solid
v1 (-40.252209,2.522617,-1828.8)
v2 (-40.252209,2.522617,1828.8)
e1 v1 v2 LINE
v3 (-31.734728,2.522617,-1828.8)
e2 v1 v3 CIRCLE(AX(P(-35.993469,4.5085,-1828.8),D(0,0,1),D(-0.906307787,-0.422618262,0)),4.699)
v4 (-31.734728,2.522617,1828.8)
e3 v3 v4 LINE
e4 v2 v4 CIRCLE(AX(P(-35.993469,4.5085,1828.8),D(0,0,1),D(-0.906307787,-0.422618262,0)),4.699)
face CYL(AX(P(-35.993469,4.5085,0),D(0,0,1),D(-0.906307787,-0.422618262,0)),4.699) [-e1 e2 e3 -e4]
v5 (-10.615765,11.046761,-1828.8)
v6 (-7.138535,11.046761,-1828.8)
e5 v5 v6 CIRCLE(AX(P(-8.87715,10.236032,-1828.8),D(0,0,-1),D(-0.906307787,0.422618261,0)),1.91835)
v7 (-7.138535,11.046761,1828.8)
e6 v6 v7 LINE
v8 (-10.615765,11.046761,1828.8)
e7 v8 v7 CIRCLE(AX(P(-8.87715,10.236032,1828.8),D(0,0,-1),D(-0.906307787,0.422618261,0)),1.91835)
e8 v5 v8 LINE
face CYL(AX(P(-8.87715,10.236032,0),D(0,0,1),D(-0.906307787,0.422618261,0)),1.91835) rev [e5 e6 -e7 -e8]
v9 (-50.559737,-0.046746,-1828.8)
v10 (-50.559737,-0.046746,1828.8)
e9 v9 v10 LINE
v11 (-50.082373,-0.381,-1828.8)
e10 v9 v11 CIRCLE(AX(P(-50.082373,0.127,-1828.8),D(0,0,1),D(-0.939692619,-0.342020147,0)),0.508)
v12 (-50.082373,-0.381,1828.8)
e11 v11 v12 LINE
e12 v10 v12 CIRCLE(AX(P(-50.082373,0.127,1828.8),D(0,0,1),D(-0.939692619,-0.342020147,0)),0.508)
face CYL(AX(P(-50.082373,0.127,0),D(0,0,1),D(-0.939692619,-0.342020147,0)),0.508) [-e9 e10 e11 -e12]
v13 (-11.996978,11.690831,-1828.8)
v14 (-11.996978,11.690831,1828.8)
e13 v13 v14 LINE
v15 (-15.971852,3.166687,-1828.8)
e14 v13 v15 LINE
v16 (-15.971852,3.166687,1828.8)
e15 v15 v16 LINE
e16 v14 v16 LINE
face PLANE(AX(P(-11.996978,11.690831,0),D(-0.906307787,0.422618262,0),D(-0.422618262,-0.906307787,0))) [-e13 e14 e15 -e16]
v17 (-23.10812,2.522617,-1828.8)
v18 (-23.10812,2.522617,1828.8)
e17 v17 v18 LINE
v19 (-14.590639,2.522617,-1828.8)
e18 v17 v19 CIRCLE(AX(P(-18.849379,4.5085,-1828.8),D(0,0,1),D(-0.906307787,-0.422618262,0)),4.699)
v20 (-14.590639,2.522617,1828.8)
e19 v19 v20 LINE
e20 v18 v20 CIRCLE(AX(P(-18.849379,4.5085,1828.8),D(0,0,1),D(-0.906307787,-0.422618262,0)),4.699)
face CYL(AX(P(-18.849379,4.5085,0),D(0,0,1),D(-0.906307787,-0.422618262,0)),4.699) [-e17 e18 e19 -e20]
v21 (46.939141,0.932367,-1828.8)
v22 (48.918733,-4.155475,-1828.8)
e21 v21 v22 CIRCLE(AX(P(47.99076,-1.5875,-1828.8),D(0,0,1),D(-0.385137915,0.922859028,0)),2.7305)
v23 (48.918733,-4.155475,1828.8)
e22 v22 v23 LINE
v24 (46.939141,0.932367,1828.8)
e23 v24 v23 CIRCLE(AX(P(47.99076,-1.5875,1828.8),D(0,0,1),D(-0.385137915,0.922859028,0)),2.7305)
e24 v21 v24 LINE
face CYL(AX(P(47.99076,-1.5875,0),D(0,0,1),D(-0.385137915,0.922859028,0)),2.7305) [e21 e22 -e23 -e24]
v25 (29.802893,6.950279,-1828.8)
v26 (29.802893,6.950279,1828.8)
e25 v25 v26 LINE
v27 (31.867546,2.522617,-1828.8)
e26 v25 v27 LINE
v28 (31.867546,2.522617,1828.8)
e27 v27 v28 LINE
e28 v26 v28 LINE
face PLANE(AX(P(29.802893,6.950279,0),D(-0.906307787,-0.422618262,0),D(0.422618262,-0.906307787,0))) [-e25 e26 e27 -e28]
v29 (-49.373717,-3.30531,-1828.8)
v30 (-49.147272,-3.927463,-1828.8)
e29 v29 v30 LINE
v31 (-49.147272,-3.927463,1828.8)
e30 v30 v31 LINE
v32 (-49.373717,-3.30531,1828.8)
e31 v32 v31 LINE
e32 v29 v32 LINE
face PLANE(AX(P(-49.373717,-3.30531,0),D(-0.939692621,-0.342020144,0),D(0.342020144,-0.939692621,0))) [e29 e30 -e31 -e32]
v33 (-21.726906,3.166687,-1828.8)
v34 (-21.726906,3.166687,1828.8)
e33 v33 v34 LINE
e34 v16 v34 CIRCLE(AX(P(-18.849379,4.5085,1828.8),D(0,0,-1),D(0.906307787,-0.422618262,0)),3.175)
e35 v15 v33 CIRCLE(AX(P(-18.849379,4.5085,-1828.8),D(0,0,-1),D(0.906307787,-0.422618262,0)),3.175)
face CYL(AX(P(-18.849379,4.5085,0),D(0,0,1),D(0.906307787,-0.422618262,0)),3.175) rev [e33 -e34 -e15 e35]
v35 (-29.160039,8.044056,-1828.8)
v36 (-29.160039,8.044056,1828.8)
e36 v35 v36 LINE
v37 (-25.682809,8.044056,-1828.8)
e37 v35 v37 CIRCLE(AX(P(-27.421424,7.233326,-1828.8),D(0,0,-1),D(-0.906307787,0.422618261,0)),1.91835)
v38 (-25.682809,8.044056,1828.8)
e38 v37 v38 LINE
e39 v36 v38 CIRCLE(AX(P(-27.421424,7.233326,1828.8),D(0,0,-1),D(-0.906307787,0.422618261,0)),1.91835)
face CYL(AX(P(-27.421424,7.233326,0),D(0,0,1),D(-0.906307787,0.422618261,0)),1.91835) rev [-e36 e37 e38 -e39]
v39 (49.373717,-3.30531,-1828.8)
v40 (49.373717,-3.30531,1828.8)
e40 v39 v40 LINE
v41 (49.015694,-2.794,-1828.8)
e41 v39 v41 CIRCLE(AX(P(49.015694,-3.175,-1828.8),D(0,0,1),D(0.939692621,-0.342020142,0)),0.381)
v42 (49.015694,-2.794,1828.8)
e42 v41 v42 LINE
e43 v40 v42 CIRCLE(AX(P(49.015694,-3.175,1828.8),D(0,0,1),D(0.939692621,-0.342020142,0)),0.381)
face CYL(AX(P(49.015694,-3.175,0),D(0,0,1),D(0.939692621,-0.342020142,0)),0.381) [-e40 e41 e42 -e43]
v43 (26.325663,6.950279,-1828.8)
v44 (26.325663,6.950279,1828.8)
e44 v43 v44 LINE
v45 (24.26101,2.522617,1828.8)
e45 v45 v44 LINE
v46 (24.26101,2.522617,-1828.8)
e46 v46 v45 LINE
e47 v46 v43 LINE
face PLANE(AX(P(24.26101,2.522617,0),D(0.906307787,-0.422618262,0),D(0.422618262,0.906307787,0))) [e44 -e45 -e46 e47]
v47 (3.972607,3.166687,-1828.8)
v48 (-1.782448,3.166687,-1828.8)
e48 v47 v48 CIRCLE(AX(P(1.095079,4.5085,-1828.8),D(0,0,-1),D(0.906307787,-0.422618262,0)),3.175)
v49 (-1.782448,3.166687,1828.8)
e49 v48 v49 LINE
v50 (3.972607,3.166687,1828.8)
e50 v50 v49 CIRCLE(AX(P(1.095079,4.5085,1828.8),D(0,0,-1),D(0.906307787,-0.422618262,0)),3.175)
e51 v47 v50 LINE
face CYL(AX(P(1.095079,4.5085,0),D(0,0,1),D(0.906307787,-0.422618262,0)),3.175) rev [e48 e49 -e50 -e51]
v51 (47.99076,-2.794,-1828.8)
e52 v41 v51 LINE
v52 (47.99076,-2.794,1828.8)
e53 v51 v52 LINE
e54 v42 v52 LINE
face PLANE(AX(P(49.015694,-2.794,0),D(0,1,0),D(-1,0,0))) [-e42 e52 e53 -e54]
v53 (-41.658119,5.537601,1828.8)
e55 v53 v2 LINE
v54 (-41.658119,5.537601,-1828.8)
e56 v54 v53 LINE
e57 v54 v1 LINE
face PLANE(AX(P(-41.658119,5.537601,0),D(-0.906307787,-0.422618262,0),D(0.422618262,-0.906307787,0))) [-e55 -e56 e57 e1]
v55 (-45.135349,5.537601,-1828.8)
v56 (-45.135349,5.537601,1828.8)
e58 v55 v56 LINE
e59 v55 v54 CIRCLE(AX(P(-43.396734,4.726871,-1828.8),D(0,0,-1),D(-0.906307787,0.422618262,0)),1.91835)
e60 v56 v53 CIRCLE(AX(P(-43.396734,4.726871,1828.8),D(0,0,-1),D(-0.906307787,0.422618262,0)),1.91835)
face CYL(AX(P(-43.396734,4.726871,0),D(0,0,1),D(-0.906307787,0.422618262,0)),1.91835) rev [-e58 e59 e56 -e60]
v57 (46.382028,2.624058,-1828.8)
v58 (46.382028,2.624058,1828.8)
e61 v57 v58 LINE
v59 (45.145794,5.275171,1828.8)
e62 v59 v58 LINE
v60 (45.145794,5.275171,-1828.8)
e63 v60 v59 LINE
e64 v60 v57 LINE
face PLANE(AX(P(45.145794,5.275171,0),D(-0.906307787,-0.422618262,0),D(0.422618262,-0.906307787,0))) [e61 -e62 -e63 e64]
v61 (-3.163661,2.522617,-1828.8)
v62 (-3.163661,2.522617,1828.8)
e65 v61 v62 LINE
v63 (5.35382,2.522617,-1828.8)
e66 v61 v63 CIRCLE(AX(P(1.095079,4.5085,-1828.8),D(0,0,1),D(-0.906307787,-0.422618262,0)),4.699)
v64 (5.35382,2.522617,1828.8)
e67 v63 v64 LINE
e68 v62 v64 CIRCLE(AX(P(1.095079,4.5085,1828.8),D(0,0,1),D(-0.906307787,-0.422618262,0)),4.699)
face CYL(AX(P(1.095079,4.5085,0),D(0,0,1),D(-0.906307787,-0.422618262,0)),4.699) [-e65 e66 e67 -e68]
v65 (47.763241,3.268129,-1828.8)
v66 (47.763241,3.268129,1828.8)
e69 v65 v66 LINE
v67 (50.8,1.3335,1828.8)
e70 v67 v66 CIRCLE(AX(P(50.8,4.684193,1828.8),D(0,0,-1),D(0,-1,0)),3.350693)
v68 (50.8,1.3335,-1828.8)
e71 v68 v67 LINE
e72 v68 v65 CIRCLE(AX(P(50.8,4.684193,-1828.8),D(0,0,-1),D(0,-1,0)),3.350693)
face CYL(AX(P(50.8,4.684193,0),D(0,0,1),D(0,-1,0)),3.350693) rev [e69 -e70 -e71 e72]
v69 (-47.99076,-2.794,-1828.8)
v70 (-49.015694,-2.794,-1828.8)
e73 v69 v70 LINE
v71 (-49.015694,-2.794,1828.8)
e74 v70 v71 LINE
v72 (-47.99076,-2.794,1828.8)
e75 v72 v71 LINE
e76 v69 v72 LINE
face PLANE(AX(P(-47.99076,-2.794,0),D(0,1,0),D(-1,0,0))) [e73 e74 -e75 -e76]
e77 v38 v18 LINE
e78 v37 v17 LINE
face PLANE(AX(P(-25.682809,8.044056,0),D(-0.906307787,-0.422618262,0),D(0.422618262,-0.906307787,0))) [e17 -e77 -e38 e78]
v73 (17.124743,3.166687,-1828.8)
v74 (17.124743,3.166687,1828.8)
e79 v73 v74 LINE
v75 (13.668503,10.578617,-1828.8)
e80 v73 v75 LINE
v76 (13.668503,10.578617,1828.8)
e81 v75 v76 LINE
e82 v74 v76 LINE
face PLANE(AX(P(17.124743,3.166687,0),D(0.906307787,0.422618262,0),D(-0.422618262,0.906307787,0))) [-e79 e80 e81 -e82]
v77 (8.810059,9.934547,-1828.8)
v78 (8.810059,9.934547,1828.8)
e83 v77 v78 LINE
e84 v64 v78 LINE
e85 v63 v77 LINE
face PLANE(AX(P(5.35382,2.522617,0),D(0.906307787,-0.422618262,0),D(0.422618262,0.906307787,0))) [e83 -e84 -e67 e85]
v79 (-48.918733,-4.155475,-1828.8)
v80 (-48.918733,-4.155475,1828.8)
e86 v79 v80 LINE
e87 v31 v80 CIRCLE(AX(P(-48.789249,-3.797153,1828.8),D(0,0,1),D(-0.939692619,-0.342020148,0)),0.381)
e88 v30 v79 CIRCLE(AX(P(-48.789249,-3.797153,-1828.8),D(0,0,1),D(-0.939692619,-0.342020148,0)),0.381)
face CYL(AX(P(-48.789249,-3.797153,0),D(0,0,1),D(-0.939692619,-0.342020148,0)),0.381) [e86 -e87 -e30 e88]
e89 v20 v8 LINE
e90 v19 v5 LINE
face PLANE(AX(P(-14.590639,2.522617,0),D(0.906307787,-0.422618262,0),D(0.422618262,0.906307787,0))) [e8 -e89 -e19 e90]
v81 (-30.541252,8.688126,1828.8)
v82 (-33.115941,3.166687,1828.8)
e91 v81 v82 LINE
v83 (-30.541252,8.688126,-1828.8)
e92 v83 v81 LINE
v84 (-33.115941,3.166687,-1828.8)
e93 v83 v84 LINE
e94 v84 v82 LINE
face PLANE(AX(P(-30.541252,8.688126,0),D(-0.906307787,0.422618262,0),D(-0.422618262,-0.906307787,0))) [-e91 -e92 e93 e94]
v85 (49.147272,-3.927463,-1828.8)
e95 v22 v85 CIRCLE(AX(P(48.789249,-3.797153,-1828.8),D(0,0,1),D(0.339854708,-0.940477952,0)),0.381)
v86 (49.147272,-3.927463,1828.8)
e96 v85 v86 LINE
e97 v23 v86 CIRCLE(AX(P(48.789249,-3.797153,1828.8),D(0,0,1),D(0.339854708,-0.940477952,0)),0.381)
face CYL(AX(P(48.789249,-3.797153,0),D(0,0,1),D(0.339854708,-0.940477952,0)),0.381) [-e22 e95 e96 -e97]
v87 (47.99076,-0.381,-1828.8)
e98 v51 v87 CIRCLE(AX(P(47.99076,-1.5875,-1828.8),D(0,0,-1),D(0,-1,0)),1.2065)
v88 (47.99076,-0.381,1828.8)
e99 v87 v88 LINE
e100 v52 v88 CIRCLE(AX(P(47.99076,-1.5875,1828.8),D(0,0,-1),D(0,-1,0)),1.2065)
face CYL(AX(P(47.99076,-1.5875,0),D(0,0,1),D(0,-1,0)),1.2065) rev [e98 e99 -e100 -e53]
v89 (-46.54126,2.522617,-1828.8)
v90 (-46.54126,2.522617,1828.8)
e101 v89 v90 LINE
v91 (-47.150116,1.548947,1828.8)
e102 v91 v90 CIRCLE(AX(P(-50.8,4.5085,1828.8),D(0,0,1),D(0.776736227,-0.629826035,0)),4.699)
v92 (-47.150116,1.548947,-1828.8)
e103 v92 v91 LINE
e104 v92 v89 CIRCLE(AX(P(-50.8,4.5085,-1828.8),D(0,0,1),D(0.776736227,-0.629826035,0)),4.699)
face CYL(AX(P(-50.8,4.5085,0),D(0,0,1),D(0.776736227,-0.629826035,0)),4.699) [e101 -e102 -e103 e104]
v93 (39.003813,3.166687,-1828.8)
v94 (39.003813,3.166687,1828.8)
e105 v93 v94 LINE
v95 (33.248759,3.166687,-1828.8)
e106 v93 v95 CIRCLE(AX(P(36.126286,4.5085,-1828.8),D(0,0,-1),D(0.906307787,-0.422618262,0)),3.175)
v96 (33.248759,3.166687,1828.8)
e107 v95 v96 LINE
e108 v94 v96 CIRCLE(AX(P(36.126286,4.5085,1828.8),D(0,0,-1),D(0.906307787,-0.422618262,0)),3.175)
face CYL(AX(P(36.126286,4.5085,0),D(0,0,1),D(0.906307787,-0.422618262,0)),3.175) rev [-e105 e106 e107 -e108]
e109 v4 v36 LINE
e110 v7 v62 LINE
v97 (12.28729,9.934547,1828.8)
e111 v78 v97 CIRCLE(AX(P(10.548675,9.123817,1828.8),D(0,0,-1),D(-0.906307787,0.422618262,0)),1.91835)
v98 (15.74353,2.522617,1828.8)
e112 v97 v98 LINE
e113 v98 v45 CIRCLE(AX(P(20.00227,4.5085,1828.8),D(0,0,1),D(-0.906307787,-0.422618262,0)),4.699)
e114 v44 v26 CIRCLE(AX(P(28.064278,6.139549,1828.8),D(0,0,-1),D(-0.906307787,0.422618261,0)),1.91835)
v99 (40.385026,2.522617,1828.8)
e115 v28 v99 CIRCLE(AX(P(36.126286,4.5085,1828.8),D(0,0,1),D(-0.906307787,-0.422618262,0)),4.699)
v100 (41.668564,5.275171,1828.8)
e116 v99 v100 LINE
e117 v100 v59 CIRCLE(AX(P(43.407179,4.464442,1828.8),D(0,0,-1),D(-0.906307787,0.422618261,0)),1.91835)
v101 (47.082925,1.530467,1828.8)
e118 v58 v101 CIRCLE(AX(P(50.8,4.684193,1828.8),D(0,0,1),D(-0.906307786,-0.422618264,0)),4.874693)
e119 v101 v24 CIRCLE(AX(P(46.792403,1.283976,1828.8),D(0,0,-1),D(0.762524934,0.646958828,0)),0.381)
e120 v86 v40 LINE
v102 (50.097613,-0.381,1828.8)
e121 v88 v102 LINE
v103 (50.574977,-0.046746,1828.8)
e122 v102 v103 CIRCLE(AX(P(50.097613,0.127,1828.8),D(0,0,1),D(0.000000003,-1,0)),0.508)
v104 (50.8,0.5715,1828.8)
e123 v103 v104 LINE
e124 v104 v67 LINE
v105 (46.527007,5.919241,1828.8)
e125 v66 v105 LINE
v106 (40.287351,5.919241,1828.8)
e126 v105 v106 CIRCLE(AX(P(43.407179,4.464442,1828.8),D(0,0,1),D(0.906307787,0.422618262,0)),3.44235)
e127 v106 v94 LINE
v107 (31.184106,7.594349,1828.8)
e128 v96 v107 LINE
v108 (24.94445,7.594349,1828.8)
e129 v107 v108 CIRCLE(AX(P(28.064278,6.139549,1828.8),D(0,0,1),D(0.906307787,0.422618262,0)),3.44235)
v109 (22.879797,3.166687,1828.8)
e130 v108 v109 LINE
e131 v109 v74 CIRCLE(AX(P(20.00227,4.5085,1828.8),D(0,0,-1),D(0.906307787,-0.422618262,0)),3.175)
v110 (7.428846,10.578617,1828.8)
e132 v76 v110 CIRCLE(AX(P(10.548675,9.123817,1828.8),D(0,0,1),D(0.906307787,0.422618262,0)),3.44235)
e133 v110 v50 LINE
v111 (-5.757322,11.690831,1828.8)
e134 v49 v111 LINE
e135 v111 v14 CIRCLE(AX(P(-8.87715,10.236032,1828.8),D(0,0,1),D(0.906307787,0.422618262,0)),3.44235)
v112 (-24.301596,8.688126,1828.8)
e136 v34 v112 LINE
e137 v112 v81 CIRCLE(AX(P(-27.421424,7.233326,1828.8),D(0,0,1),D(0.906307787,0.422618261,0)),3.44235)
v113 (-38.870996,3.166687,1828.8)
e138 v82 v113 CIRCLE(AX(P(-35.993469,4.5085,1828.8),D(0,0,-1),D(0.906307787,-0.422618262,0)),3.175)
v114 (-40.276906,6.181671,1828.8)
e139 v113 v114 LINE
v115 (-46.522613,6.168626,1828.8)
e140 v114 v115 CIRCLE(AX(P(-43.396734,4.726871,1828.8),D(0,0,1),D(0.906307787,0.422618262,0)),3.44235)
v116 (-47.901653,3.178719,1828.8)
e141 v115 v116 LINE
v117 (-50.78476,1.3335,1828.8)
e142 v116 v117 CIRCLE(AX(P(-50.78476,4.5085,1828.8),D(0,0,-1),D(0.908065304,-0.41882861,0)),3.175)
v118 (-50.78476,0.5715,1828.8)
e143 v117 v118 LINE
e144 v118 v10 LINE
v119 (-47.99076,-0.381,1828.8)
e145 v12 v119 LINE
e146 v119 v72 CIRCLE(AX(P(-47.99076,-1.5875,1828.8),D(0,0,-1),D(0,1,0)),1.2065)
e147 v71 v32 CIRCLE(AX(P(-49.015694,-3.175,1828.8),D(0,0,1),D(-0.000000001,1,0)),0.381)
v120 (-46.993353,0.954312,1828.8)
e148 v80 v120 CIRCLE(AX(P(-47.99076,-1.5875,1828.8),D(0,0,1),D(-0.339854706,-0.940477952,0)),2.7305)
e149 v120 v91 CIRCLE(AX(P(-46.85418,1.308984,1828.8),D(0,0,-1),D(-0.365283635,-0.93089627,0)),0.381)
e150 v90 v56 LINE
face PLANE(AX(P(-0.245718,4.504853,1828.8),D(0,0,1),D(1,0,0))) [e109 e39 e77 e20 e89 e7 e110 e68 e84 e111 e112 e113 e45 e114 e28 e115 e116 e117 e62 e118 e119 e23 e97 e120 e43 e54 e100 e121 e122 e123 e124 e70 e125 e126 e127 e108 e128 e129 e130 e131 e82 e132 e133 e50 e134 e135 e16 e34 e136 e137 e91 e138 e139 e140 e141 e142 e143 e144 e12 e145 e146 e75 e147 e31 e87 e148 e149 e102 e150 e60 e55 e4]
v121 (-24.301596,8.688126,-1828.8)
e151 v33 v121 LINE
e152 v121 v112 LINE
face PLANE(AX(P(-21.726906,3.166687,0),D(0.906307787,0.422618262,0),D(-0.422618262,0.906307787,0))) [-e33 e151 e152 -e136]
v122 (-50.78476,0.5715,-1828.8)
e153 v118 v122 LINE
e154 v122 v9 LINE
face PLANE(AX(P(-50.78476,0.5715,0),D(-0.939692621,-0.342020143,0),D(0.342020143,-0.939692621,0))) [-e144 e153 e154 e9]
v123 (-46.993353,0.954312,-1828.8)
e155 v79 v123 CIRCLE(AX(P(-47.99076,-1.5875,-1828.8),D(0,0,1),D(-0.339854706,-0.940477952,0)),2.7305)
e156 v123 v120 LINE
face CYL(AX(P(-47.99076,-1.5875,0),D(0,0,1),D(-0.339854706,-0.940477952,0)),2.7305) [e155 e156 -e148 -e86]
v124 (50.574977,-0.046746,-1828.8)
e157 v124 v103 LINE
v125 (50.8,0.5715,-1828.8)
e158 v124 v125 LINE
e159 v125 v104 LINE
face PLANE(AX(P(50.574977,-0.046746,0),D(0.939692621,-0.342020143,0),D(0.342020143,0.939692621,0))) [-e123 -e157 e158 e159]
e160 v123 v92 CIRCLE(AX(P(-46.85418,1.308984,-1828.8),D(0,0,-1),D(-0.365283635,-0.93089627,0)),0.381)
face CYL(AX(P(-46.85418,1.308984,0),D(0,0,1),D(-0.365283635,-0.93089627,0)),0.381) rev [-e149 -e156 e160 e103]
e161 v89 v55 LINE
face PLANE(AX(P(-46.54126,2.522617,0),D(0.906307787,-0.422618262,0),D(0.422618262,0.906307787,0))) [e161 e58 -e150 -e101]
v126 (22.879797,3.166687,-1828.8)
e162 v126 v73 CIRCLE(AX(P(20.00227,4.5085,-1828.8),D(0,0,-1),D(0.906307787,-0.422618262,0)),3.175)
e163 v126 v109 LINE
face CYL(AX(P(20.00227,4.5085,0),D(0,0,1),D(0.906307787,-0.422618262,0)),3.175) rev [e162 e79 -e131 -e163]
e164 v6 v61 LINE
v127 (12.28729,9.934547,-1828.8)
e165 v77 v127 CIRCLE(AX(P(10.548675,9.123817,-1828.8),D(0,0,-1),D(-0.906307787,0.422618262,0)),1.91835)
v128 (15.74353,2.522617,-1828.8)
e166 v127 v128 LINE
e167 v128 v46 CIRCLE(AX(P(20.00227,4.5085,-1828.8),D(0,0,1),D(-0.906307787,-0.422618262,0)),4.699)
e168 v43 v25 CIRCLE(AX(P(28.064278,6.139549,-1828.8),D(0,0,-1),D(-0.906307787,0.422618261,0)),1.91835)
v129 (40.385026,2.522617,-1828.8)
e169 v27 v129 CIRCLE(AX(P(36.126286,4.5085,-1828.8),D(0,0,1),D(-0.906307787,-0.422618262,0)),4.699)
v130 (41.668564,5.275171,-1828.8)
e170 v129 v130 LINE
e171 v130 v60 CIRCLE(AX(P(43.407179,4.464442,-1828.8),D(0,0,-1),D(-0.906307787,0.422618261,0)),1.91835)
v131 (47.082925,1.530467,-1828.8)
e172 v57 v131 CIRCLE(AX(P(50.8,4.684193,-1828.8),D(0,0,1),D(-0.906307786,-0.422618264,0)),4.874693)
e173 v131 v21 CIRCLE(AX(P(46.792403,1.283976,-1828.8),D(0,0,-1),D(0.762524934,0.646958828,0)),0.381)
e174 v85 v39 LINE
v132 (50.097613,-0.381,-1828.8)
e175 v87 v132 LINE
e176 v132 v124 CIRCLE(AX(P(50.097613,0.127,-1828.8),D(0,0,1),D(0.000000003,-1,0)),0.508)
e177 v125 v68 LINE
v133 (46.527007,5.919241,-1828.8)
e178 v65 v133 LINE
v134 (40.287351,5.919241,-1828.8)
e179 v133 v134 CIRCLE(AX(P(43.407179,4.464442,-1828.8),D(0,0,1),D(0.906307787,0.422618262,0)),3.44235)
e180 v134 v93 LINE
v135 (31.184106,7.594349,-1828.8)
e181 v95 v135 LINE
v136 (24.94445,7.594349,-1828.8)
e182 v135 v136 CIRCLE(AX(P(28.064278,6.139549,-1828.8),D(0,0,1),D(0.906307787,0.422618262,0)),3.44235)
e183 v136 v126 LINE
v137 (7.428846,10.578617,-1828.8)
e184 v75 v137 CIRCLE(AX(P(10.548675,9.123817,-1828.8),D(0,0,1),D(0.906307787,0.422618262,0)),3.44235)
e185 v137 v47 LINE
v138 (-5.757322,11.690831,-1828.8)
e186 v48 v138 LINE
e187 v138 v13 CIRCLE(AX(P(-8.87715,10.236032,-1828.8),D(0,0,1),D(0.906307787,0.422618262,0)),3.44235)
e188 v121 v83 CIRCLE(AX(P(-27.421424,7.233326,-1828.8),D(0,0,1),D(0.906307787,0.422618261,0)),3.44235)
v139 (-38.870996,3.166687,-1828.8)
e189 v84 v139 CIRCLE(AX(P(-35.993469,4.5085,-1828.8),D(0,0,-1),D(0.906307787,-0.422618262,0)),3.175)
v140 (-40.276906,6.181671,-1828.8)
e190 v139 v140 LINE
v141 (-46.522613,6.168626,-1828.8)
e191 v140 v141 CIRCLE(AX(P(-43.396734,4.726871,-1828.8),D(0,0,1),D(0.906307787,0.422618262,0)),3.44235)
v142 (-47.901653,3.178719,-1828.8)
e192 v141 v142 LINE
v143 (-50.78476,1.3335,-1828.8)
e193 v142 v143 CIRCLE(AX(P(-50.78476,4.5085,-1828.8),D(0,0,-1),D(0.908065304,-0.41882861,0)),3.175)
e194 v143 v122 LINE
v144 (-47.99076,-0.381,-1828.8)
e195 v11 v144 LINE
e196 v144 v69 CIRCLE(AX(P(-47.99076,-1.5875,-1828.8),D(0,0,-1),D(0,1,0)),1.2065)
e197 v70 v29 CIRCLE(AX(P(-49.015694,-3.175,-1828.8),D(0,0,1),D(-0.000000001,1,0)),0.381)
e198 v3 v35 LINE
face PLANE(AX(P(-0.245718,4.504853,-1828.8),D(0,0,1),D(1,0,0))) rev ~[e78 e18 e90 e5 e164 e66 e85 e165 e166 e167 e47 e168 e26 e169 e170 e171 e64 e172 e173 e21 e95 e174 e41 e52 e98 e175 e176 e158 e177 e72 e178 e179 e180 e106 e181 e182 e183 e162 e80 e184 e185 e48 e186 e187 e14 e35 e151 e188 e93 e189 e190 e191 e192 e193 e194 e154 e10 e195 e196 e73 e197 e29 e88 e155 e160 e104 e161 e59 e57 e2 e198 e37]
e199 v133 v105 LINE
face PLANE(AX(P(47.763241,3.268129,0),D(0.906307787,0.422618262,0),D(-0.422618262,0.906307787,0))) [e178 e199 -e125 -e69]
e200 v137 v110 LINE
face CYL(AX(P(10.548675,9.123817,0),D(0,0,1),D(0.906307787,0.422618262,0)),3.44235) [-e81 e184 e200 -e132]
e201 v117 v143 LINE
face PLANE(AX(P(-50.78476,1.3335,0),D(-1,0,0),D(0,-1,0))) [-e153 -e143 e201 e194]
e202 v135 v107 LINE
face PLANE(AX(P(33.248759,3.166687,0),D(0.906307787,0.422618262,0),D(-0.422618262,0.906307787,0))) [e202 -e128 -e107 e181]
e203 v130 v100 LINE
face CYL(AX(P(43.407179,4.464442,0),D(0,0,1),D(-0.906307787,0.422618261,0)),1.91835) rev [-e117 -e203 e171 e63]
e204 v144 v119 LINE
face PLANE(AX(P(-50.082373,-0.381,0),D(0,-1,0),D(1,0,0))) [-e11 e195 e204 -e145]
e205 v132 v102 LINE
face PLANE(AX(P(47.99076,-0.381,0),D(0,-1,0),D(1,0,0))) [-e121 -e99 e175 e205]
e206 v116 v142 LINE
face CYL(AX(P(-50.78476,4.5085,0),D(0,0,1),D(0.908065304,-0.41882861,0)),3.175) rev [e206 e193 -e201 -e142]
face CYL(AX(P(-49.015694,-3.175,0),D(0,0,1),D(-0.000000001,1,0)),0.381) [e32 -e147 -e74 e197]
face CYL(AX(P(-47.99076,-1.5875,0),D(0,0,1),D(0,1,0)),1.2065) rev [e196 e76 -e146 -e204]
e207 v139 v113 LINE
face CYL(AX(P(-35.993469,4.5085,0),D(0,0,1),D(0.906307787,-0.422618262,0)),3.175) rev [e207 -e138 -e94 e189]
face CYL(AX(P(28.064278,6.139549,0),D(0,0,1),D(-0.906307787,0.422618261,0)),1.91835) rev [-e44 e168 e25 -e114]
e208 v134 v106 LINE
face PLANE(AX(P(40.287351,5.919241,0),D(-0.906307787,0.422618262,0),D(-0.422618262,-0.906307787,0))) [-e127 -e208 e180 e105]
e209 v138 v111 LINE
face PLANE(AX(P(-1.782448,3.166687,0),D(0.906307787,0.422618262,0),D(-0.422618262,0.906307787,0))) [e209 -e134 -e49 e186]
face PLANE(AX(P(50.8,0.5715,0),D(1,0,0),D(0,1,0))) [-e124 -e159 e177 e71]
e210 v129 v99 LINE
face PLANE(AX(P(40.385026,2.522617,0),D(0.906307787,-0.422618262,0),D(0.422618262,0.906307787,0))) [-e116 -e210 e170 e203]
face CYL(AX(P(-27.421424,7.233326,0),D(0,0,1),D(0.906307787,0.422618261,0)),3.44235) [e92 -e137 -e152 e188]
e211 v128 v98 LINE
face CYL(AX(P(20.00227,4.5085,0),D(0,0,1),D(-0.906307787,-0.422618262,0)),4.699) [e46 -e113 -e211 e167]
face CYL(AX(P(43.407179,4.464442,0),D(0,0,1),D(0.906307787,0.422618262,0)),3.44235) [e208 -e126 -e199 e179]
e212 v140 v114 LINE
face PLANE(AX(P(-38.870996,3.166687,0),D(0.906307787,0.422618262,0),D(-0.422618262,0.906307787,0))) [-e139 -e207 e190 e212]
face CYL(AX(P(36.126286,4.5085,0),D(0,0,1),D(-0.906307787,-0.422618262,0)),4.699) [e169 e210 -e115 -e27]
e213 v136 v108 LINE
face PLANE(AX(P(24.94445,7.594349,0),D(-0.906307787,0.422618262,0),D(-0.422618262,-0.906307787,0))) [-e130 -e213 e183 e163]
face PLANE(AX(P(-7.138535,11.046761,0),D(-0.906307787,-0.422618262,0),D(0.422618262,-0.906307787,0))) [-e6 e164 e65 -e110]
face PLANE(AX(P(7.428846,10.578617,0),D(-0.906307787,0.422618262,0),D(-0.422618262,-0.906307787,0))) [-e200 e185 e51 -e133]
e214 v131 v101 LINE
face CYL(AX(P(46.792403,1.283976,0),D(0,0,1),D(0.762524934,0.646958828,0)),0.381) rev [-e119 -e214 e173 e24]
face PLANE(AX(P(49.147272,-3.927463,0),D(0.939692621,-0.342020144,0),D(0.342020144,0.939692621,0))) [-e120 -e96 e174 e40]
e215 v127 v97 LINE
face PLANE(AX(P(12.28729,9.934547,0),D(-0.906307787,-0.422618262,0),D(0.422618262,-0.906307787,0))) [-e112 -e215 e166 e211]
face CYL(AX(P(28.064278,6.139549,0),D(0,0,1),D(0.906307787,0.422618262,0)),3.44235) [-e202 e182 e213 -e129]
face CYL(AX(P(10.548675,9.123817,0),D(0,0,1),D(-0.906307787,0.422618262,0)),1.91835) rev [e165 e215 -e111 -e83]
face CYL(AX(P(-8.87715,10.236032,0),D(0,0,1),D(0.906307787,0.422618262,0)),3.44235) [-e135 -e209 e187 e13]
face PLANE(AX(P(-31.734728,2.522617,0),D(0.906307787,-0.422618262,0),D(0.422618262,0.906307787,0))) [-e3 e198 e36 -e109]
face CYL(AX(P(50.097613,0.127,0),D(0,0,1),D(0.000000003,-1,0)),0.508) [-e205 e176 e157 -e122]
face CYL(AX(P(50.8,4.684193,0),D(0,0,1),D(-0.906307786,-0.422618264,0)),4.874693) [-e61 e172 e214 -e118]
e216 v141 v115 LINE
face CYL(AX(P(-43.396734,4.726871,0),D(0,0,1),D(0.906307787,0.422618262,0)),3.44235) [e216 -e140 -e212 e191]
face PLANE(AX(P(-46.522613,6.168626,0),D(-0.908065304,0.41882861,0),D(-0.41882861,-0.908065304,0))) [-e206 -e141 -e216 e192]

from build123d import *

# Parameters (mm, degrees)
BOSS_EXTRUDE1_DEPTH = 1828.8


with BuildPart() as part:
    # Sketch1 → Boss-Extrude1 (new body, symmetric)
    with BuildSketch(Plane.XY):
        with BuildLine():
            Line((-50.78476, 0.5715), (-50.559736774, -0.046746233))
            ThreePointArc((-50.559736774, -0.046746233), (-50.373749752, -0.289129238), (-50.082372922, -0.381))
            Line((-50.082372922, -0.381), (-47.99076, -0.381))
            ThreePointArc((-47.99076, -0.381), (-46.78426, -1.5875), (-47.99076, -2.794))
            Line((-47.99076, -2.794), (-49.015693786, -2.794))
            ThreePointArc((-49.015693786, -2.794), (-49.327790715, -2.956467378), (-49.373716675, -3.305309675))
            Line((-49.373716675, -3.305309675), (-49.14727152, -3.927462624))
            ThreePointArc((-49.14727152, -3.927462624), (-49.058345853, -4.066870737), (-48.918733274, -4.155475049))
            ThreePointArc((-48.918733274, -4.155475049), (-45.435630481, -2.550278994), (-46.993353033, 0.954312265))
            ThreePointArc((-46.993353033, 0.954312265), (-47.222592561, 1.211859281), (-47.15011647, 1.548947463))
            ThreePointArc((-47.15011647, 1.548947463), (-46.815832499, 2.017112771), (-46.541259709, 2.522616788))
            Line((-46.541259709, 2.522616788), (-45.135349464, 5.537601038))
            ThreePointArc((-45.135349464, 5.537601038), (-43.39673428, 6.645221066), (-41.658119097, 5.537601038))
            Line((-41.658119097, 5.537601038), (-40.252208852, 2.522616788))
            ThreePointArc((-40.252208852, 2.522616788), (-35.993468561, -0.1905), (-31.734728269, 2.522616788))
            Line((-31.734728269, 2.522616788), (-29.160039084, 8.044055564))
            ThreePointArc((-29.160039084, 8.044055564), (-27.4214239, 9.151675593), (-25.682808717, 8.044055564))
            Line((-25.682808717, 8.044055564), (-23.108119532, 2.522616788))
            ThreePointArc((-23.108119532, 2.522616788), (-18.84937924, -0.1905), (-14.590638949, 2.522616788))
            Line((-14.590638949, 2.522616788), (-10.61576511, 11.046761243))
            ThreePointArc((-10.61576511, 11.046761243), (-8.877149927, 12.154381272), (-7.138534743, 11.046761243))
            Line((-7.138534743, 11.046761243), (-3.163660904, 2.522616788))
            ThreePointArc((-3.163660904, 2.522616788), (1.095079387, -0.1905), (5.353819678, 2.522616788))
            Line((5.353819678, 2.522616788), (8.810059444, 9.934546884))
            ThreePointArc((8.810059444, 9.934546884), (10.548674627, 11.042166912), (12.287289811, 9.934546884))
            Line((12.287289811, 9.934546884), (15.743529576, 2.522616788))
            ThreePointArc((15.743529576, 2.522616788), (20.002269867, -0.1905), (24.261010159, 2.522616788))
            Line((24.261010159, 2.522616788), (26.3256628, 6.950278665))
            ThreePointArc((26.3256628, 6.950278665), (28.064277983, 8.057898694), (29.802893167, 6.950278665))
            Line((29.802893167, 6.950278665), (31.867545808, 2.522616788))
            ThreePointArc((31.867545808, 2.522616788), (36.126286099, -0.1905), (40.385026391, 2.522616788))
            Line((40.385026391, 2.522616788), (41.668563615, 5.275171249))
            ThreePointArc((41.668563615, 5.275171249), (43.407178799, 6.382791278), (45.145793982, 5.275171249))
            Line((45.145793982, 5.275171249), (46.382028178, 2.624058461))
            ThreePointArc((46.382028178, 2.624058461), (46.695888569, 2.053812951), (47.082925376, 1.530467179))
            ThreePointArc((47.082925376, 1.530467179), (47.162849135, 1.194920043), (46.939140922, 0.932366577))
            ThreePointArc((46.939140922, 0.932366577), (45.446088081, -2.577588419), (48.918733274, -4.155475049))
            ThreePointArc((48.918733274, -4.155475049), (49.058345853, -4.066870737), (49.14727152, -3.927462624))
            Line((49.14727152, -3.927462624), (49.373716675, -3.305309675))
            ThreePointArc((49.373716675, -3.305309675), (49.327790715, -2.956467378), (49.015693786, -2.794))
            Line((49.015693786, -2.794), (47.99076, -2.794))
            ThreePointArc((47.99076, -2.794), (46.78426, -1.5875), (47.99076, -0.381))
            Line((47.99076, -0.381), (50.097612922, -0.381))
            ThreePointArc((50.097612922, -0.381), (50.388989752, -0.289129238), (50.574976774, -0.046746233))
            Line((50.574976774, -0.046746233), (50.8, 0.5715))
            Line((50.8, 0.5715), (50.8, 1.3335))
            ThreePointArc((50.8, 1.3335), (48.999674203, 1.858247117), (47.763241246, 3.268128692))
            Line((47.763241246, 3.268128692), (46.52700705, 5.91924148))
            ThreePointArc((46.52700705, 5.91924148), (43.407178799, 7.906791278), (40.287350548, 5.91924148))
            Line((40.287350548, 5.91924148), (39.003813323, 3.166687019))
            ThreePointArc((39.003813323, 3.166687019), (36.126286099, 1.3335), (33.248758876, 3.166687019))
            Line((33.248758876, 3.166687019), (31.184106234, 7.594348896))
            ThreePointArc((31.184106234, 7.594348896), (28.064277983, 9.581898694), (24.944449732, 7.594348896))
            Line((24.944449732, 7.594348896), (22.879797091, 3.166687019))
            ThreePointArc((22.879797091, 3.166687019), (20.002269867, 1.3335), (17.124742644, 3.166687019))
            Line((17.124742644, 3.166687019), (13.668502878, 10.578617115))
            ThreePointArc((13.668502878, 10.578617115), (10.548674627, 12.566166912), (7.428846376, 10.578617115))
            Line((7.428846376, 10.578617115), (3.972606611, 3.166687019))
            ThreePointArc((3.972606611, 3.166687019), (1.095079387, 1.3335), (-1.782447837, 3.166687019))
            Line((-1.782447837, 3.166687019), (-5.757321676, 11.690831474))
            ThreePointArc((-5.757321676, 11.690831474), (-8.877149927, 13.678381272), (-11.996978178, 11.690831474))
            Line((-11.996978178, 11.690831474), (-15.971852016, 3.166687019))
            ThreePointArc((-15.971852016, 3.166687019), (-18.84937924, 1.3335), (-21.726906464, 3.166687019))
            Line((-21.726906464, 3.166687019), (-24.30159565, 8.688125795))
            ThreePointArc((-24.30159565, 8.688125795), (-27.4214239, 10.675675593), (-30.541252151, 8.688125795))
            Line((-30.541252151, 8.688125795), (-33.115941337, 3.166687019))
            ThreePointArc((-33.115941337, 3.166687019), (-35.993468561, 1.3335), (-38.870995784, 3.166687019))
            Line((-38.870995784, 3.166687019), (-40.276906029, 6.181671269))
            ThreePointArc((-40.276906029, 6.181671269), (-43.403924246, 8.169213557), (-46.522612518, 6.168625961))
            Line((-46.522612518, 6.168625961), (-47.901652661, 3.178719165))
            ThreePointArc((-47.901652661, 3.178719165), (-49.073244466, 1.834301134), (-50.78476, 1.3335))
            Line((-50.78476, 1.3335), (-50.78476, 0.5715))
        make_face()
    extrude(amount=BOSS_EXTRUDE1_DEPTH, both=True)


solid = part.part
